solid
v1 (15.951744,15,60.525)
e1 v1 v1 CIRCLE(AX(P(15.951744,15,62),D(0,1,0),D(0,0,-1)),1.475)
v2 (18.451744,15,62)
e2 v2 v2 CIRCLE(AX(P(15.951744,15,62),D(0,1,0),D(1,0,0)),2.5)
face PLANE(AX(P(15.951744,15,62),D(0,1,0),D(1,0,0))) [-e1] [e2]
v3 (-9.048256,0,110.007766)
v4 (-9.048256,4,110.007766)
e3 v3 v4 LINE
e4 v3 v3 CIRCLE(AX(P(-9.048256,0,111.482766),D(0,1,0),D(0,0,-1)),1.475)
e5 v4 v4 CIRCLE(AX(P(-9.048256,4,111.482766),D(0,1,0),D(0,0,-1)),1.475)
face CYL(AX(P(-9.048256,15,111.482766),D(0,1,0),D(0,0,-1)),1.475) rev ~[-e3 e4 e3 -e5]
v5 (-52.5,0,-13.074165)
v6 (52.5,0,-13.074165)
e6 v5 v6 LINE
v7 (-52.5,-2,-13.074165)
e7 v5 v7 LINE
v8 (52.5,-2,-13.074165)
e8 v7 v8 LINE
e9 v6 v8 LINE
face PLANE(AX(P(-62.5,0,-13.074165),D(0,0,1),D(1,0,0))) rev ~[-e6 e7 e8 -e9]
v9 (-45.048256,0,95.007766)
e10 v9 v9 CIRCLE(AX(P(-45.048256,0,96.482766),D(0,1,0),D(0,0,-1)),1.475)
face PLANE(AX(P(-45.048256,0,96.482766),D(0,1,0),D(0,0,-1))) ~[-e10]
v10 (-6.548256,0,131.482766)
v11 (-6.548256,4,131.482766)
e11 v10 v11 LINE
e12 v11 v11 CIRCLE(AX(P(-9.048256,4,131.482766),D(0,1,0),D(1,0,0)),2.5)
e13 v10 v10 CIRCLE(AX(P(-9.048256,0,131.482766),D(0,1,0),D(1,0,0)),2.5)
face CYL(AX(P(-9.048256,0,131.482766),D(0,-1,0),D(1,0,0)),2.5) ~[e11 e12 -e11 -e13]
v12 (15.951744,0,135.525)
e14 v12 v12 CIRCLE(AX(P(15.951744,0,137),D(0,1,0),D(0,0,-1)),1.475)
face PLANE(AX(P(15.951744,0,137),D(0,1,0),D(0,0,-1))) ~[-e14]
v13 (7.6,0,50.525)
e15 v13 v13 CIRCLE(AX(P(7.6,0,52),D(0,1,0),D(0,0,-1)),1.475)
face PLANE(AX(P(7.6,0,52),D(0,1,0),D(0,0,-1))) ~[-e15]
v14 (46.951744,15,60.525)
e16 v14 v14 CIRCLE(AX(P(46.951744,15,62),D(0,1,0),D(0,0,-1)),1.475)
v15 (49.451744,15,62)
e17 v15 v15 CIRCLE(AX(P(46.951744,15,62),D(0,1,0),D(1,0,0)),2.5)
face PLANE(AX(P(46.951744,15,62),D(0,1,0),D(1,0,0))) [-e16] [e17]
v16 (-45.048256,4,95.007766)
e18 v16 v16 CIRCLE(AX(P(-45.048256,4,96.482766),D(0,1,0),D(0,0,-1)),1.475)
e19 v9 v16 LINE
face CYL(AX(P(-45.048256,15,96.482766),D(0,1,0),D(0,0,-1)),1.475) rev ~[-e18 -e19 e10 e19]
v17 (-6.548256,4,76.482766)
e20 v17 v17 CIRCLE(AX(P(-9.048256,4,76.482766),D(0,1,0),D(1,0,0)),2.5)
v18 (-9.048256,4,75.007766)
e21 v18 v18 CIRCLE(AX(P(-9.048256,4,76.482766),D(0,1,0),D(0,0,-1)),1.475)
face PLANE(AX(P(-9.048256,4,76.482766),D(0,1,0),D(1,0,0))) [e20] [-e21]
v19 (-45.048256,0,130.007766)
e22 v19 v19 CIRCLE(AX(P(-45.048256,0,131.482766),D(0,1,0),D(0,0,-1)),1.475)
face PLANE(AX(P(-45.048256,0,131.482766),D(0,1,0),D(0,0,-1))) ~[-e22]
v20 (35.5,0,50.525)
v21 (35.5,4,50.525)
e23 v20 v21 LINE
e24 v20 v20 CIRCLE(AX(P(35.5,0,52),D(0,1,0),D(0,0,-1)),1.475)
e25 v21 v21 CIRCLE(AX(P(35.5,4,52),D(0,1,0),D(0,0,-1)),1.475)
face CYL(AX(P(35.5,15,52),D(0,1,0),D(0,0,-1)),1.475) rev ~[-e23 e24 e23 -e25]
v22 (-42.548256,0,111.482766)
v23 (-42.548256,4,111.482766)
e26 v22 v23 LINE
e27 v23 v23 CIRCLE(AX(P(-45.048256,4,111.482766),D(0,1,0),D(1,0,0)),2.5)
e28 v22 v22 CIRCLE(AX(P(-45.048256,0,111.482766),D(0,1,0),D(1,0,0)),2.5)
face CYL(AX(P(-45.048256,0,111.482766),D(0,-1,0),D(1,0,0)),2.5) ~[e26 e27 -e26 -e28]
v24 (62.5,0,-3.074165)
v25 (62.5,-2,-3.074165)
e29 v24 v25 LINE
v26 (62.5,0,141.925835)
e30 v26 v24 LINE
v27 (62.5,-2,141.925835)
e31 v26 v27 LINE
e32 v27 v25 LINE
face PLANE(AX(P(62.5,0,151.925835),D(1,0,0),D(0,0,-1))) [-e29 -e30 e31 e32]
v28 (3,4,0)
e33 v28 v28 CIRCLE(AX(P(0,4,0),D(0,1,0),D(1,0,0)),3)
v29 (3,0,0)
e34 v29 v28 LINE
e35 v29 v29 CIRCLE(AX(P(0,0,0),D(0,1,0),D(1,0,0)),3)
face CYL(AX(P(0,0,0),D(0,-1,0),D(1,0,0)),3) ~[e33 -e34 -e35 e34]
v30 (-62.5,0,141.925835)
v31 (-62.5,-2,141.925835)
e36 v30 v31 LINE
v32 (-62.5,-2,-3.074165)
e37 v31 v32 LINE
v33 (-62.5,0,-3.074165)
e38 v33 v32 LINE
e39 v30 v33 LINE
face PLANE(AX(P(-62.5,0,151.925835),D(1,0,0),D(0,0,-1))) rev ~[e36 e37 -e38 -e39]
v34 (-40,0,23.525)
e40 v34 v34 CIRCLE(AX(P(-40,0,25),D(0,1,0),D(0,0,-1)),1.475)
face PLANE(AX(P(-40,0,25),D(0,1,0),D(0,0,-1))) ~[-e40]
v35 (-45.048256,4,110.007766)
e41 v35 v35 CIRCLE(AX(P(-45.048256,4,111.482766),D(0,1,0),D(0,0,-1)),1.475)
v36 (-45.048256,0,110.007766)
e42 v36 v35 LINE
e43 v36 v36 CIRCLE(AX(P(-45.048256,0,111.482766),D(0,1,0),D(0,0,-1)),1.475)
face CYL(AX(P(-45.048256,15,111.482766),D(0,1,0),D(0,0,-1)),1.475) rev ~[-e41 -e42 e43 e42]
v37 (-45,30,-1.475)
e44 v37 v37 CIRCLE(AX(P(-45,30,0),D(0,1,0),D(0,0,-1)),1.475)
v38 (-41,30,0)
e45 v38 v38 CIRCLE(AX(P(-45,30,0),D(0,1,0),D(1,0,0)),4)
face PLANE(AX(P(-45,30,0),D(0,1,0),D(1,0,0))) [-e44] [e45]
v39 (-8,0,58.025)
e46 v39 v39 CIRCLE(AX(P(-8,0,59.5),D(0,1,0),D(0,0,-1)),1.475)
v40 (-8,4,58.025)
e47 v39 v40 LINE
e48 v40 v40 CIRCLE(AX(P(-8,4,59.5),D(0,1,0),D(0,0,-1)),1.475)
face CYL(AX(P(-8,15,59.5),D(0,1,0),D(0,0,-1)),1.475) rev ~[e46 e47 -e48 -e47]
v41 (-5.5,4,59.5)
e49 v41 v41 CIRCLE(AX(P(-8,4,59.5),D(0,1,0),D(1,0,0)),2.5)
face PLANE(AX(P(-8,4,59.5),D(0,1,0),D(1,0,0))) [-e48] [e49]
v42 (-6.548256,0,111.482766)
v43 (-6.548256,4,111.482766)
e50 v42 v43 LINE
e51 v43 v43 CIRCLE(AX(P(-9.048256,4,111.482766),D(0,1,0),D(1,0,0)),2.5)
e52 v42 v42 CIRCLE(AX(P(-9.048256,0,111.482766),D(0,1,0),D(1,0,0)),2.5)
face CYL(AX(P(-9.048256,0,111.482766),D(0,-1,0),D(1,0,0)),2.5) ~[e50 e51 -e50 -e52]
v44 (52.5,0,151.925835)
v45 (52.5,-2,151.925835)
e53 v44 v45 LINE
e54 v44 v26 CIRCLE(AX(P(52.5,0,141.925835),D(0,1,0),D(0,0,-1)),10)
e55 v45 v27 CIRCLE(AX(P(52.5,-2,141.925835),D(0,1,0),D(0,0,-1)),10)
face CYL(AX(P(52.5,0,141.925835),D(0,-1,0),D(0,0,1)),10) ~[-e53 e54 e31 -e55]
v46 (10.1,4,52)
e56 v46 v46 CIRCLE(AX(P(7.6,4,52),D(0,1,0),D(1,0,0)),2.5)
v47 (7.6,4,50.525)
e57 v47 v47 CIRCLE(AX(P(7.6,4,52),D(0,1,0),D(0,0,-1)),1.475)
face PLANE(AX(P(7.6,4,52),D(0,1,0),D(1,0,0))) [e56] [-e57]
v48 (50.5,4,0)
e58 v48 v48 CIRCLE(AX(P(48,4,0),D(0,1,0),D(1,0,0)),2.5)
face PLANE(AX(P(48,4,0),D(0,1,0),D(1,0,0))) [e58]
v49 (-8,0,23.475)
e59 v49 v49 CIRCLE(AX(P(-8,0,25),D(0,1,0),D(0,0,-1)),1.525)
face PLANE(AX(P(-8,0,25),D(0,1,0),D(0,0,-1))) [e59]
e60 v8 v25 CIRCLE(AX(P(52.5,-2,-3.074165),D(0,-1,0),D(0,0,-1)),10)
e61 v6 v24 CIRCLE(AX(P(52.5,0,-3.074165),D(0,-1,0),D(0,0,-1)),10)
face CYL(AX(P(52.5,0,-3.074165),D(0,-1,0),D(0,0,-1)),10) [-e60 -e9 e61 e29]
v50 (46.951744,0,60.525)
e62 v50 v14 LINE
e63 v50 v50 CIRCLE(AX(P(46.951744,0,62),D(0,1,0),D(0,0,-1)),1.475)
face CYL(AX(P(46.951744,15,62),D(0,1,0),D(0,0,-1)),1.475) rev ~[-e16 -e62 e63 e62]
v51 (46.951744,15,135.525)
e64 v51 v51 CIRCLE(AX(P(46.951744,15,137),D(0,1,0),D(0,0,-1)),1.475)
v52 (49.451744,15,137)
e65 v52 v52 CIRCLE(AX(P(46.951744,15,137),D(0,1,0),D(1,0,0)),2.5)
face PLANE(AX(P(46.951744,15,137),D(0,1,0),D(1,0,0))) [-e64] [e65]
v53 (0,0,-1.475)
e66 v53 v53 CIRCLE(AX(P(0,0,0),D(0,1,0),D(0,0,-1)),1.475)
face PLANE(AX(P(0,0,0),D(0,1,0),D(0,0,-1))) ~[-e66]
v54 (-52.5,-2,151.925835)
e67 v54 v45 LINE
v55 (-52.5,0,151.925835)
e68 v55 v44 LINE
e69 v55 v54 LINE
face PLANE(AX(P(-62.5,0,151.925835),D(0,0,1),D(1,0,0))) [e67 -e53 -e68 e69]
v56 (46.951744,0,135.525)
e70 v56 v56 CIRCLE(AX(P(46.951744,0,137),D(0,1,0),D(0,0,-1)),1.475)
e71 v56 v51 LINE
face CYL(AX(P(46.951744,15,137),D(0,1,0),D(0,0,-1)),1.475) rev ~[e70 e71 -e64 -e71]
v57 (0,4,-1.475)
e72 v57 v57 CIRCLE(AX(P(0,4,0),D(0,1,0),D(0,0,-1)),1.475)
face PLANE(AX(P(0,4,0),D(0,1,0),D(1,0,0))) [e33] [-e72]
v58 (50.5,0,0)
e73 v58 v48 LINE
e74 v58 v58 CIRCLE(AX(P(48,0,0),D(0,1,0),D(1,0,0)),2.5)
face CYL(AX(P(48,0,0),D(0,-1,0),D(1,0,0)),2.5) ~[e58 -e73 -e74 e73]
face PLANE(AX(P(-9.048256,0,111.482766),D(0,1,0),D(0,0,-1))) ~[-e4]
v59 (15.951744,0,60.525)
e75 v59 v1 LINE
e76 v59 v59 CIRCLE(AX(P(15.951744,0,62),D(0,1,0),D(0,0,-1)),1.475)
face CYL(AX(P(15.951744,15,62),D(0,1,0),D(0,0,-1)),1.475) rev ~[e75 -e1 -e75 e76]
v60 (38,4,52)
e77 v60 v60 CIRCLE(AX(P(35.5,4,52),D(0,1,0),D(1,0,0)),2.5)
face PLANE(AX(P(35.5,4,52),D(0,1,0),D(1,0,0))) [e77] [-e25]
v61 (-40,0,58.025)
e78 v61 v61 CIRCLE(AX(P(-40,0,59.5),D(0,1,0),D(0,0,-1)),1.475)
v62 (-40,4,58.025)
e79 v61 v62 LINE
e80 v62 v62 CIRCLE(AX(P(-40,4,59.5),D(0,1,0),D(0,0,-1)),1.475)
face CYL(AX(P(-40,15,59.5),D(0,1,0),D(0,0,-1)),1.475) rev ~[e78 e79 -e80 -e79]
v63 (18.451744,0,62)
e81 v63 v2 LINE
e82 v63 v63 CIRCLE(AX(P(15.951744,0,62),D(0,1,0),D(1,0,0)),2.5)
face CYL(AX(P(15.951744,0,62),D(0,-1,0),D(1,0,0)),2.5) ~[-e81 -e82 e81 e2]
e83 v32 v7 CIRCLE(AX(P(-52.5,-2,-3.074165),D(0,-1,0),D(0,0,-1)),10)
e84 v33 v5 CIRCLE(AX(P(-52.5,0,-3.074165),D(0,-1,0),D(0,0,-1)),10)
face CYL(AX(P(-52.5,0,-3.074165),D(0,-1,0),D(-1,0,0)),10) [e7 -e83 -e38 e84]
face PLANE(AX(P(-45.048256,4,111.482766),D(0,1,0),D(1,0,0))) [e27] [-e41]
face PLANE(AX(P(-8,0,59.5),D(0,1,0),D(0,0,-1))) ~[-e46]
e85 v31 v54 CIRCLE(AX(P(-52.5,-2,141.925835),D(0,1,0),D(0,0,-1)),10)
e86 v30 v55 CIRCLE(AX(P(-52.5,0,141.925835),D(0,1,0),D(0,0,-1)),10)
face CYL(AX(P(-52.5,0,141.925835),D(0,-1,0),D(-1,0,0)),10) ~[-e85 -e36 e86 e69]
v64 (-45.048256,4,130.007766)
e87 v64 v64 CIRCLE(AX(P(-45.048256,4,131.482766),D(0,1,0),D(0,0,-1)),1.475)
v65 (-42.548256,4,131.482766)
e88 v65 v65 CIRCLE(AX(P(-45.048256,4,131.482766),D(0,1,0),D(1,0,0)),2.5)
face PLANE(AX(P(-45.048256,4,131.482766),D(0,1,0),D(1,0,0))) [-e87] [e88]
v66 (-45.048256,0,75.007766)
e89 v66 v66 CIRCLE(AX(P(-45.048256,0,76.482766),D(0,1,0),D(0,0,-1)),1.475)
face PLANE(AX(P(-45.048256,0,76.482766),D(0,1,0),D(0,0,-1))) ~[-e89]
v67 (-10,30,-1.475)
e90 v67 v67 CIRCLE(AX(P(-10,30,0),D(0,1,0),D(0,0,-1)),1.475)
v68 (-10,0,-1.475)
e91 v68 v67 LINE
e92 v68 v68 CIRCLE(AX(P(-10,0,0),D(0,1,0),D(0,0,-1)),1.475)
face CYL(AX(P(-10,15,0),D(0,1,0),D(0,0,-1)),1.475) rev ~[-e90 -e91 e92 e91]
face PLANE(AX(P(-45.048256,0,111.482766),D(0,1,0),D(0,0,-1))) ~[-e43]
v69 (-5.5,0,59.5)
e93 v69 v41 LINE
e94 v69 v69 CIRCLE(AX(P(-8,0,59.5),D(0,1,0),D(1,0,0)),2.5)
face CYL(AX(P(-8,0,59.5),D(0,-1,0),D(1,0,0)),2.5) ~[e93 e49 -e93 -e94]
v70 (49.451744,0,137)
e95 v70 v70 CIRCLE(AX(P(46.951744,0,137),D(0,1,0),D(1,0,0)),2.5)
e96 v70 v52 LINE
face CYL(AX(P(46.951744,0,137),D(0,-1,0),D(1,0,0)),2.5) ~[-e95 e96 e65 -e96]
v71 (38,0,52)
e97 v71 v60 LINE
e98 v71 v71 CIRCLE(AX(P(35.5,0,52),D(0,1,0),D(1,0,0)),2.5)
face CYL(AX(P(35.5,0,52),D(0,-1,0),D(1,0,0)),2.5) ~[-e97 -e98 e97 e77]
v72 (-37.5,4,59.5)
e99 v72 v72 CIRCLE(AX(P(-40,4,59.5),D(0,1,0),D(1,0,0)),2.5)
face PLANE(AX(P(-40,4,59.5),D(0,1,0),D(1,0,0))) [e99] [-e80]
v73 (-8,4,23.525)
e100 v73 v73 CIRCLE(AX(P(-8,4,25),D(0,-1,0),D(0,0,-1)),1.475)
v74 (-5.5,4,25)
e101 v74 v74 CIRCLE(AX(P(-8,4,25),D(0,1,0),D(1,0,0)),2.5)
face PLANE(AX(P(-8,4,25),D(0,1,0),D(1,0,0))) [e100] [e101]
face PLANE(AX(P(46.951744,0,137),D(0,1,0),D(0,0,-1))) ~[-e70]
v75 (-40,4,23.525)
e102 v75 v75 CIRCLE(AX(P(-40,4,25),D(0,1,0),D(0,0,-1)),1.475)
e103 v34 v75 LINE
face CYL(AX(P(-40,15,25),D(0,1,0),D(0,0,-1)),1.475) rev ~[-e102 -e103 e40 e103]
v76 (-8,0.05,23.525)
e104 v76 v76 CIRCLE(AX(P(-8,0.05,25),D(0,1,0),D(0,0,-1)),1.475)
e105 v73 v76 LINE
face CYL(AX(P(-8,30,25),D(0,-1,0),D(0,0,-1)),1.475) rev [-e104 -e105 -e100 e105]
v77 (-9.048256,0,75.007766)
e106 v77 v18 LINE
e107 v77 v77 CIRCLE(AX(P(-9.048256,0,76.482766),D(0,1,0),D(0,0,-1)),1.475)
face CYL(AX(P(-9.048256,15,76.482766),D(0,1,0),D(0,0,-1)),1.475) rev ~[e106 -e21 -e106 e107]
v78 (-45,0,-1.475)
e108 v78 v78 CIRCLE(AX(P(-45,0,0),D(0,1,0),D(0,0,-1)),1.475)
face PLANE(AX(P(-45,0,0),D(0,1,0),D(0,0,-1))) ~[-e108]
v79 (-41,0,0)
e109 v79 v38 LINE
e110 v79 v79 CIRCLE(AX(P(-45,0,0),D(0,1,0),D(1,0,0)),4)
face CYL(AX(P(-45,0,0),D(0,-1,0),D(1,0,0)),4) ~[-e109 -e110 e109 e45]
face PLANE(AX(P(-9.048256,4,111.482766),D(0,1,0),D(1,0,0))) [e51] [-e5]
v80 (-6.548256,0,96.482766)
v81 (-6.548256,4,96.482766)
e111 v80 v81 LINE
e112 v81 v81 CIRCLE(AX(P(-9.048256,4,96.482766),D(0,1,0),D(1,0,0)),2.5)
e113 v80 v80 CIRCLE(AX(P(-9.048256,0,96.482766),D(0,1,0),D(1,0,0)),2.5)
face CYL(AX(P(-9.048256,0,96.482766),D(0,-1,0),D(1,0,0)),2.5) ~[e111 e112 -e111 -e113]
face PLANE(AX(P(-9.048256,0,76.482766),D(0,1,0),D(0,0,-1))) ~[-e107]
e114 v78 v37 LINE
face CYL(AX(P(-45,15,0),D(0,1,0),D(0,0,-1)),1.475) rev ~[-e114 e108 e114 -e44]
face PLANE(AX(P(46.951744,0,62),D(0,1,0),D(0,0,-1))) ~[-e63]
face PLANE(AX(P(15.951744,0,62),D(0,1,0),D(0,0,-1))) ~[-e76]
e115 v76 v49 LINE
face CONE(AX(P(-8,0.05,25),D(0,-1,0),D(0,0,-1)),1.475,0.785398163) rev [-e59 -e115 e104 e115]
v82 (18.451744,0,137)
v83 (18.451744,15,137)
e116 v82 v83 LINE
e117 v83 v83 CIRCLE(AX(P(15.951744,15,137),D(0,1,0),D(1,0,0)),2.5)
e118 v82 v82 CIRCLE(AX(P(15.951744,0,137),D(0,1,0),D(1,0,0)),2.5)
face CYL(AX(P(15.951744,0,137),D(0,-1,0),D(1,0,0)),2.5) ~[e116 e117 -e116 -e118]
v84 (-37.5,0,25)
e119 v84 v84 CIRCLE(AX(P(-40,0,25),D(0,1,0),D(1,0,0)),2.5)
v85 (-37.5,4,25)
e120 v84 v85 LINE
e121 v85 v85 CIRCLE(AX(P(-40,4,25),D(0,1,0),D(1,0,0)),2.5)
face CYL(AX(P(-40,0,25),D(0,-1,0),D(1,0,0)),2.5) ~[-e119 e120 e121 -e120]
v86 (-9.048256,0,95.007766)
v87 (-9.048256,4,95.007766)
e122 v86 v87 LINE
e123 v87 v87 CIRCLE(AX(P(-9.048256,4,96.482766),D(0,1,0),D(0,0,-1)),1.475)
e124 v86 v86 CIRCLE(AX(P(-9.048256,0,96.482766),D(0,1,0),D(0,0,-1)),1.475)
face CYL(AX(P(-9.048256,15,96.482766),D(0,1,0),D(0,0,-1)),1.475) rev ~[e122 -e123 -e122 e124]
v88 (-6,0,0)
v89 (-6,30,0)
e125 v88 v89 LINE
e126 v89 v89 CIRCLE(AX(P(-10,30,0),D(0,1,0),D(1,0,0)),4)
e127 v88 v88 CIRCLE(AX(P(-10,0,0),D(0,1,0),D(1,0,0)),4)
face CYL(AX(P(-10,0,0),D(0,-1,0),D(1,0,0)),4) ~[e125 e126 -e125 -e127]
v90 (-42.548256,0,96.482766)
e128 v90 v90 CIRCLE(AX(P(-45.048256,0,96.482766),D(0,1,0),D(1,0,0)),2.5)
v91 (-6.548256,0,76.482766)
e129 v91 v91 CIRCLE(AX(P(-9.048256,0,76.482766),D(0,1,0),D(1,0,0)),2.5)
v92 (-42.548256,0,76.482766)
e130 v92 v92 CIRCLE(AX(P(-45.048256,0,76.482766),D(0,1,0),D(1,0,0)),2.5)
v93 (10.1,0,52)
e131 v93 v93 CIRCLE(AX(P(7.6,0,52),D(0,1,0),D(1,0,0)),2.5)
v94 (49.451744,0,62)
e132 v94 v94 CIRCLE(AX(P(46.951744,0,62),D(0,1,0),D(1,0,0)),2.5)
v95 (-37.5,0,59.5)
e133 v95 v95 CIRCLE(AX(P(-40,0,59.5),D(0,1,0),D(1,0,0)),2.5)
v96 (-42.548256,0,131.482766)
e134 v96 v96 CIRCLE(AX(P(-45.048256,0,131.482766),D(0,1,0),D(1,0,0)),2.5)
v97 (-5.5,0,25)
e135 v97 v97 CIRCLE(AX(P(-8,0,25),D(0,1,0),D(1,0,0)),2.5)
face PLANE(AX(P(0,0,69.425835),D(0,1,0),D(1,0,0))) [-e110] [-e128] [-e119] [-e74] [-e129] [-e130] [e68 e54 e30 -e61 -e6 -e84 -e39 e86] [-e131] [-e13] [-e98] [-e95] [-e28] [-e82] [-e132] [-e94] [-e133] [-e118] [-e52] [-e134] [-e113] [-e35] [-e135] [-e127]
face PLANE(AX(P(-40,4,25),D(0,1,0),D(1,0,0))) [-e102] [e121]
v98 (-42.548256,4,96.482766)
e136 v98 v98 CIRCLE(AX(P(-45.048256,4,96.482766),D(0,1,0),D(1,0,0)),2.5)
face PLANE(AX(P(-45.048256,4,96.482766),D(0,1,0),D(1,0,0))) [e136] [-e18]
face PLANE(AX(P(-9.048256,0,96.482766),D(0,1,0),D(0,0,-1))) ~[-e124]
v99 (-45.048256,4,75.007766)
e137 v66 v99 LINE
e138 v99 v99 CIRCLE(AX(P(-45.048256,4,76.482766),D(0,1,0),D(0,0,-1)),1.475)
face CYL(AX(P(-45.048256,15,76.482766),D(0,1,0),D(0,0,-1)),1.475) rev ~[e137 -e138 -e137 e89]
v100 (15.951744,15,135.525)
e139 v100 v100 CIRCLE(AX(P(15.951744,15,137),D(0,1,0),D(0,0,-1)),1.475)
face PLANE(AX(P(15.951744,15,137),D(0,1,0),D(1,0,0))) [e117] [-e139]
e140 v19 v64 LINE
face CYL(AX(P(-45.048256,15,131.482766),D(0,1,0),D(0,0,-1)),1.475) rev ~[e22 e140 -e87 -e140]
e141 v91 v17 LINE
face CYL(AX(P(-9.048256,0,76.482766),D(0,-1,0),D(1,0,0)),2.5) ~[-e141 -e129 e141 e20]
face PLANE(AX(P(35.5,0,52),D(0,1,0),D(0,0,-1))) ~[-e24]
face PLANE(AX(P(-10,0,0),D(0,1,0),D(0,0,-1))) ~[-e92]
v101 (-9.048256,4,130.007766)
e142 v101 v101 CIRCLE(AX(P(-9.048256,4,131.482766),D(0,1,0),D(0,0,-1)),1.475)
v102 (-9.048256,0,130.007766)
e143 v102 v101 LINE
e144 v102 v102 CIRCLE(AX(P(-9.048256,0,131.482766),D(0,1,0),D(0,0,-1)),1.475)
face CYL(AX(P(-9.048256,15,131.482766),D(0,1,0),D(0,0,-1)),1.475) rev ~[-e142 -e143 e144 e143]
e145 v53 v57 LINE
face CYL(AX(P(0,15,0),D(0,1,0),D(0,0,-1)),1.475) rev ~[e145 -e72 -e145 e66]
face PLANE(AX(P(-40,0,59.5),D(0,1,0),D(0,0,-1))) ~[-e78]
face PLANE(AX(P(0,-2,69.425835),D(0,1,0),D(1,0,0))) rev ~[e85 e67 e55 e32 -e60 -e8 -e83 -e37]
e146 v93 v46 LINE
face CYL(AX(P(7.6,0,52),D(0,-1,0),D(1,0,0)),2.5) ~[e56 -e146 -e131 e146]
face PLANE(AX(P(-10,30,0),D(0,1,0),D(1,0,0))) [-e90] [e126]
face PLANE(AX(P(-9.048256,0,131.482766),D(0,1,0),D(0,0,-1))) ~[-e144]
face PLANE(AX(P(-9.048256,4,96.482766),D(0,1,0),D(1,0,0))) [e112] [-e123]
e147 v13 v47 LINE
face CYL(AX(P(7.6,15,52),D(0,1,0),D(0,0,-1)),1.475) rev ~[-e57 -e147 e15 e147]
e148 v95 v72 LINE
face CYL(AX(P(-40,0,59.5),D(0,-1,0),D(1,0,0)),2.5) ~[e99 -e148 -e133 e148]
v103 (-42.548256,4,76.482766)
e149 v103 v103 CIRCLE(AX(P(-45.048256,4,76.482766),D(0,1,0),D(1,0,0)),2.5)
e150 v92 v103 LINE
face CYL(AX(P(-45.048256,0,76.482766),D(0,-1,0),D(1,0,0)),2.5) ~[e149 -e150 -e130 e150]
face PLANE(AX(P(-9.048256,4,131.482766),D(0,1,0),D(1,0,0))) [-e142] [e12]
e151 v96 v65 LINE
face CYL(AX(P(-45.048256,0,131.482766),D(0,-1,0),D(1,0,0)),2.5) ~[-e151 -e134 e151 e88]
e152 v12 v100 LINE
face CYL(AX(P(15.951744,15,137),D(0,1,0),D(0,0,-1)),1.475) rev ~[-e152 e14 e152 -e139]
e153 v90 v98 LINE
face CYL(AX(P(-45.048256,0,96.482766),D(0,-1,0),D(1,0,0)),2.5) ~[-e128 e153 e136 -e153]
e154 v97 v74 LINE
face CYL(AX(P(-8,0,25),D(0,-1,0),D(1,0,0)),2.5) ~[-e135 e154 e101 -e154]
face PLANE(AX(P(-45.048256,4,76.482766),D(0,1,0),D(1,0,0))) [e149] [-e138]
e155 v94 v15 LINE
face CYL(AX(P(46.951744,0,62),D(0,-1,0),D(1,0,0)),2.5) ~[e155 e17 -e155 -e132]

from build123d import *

# Parameters (mm, degrees)
SKETCH_1_R         = 2.5
EXTRUDE_1_DEPTH    = 4
SKETCH_1_R_2       = 3
EXTRUDE_1_2_DEPTH  = 4
EXTRUDE_1_3_DEPTH  = 4
EXTRUDE_1_4_DEPTH  = 4
EXTRUDE_1_5_DEPTH  = 4
EXTRUDE_1_6_DEPTH  = 4
EXTRUDE_1_7_DEPTH  = 4
EXTRUDE_1_8_DEPTH  = 4
EXTRUDE_1_9_DEPTH  = 4
EXTRUDE_1_10_DEPTH = 4
EXTRUDE_1_11_DEPTH = 4
EXTRUDE_1_12_DEPTH = 4
EXTRUDE_1_13_DEPTH = 4
EXTRUDE_1_14_DEPTH = 4
EXTRUDE_1_15_DEPTH = 4
EXTRUDE_1_16_DEPTH = 4
SKETCH_1_3_R       = 2.5
EXTRUDE_2_DEPTH    = 15
EXTRUDE_2_2_DEPTH  = 15
EXTRUDE_2_3_DEPTH  = 15
EXTRUDE_2_4_DEPTH  = 15
SKETCH_1_4_R       = 4
EXTRUDE_3_DEPTH    = 30
EXTRUDE_3_2_DEPTH  = 30
SKETCH_2_W         = 125
SKETCH_2_H         = 165
EXTRUDE_4_DEPTH    = 2
FILLET_1_R         = 10
SKETCH_9_W         = 1.475
SKETCH_9_H         = 30
MM_3_AT_2_COUNT    = 2
MM_3_AT_2_PITCH    = 56.007567425
MM_3_AT_3_COUNT    = 2
MM_3_AT_3_PITCH    = 72.159569674
MM_3_AT_4_COUNT    = 2
MM_3_AT_4_PITCH    = 52.22731905
MM_3_AT_5_COUNT    = 2
MM_3_AT_5_PITCH    = 37.325726715
MM_3_AT_6_COUNT    = 2
MM_3_AT_6_PITCH    = 17.717201651
MM_3_AT_7_COUNT    = 2
MM_3_AT_7_PITCH    = 34.5
MM_3_AT_8_COUNT    = 2
MM_3_AT_8_PITCH    = 59.709714453
MM_3_AT_9_COUNT    = 2
MM_3_AT_9_PITCH    = 66.635200908
MM_3_AT_10_COUNT   = 2
MM_3_AT_10_PITCH   = 71.695536821
MM_3_AT_11_COUNT   = 2
MM_3_AT_11_PITCH   = 75.871602066
MM_3_AT_12_COUNT   = 2
MM_3_AT_12_PITCH   = 86.987675624
MM_3_AT_13_COUNT   = 2
MM_3_AT_13_PITCH   = 116.476846242
MM_3_AT_14_COUNT   = 2
MM_3_AT_14_PITCH   = 95.586858976
MM_3_AT_15_COUNT   = 2
MM_3_AT_15_PITCH   = 78.355146818
MM_3_AT_16_COUNT   = 2
MM_3_AT_16_PITCH   = 60.49973878
MM_3_AT_17_COUNT   = 2
MM_3_AT_17_PITCH   = 48.22587907
MM_3_AT_18_COUNT   = 2
MM_3_AT_18_PITCH   = 35.304741489
MM_3_AT_19_COUNT   = 2
MM_3_AT_19_PITCH   = 32
MM_3_AT_20_COUNT   = 2
MM_3_AT_20_PITCH   = 48.187238975


with BuildPart() as part:
    # 草图1 → 凸台-拉伸1 (new body)
    with BuildSketch(Plane(origin=(0, 0, 0), x_dir=(1, 0, 0), z_dir=(0, 1, 0))):
        with Locations((-8, -25)):
            Circle(SKETCH_1_R)
    extrude(amount=EXTRUDE_1_DEPTH)



with BuildPart() as body_2:
    # 草图1 → Extrude 1 2 (new body)
    with BuildSketch(Plane(origin=(0, 0, 0), x_dir=(1, 0, 0), z_dir=(0, 1, 0))):
        Circle(SKETCH_1_R_2)
    extrude(amount=EXTRUDE_1_2_DEPTH)


with BuildPart() as body_3:
    # 草图1 → Extrude 1 3 (new body)
    with BuildSketch(Plane(origin=(0, 0, 0), x_dir=(1, 0, 0), z_dir=(0, 1, 0))):
        with Locations((-9.048256427, -96.482766011)):
            Circle(SKETCH_1_R)
    extrude(amount=EXTRUDE_1_3_DEPTH)


with BuildPart() as body_4:
    # 草图1 → Extrude 1 4 (new body)
    with BuildSketch(Plane(origin=(0, 0, 0), x_dir=(1, 0, 0), z_dir=(0, 1, 0))):
        with Locations((-45.048256427, -96.482766011)):
            Circle(SKETCH_1_R)
    extrude(amount=EXTRUDE_1_4_DEPTH)


with BuildPart() as body_5:
    # 草图1 → Extrude 1 5 (new body)
    with BuildSketch(Plane(origin=(0, 0, 0), x_dir=(1, 0, 0), z_dir=(0, 1, 0))):
        with Locations((-45.048256427, -76.482766011)):
            Circle(SKETCH_1_R)
    extrude(amount=EXTRUDE_1_5_DEPTH)


with BuildPart() as body_6:
    # 草图1 → Extrude 1 6 (new body)
    with BuildSketch(Plane(origin=(0, 0, 0), x_dir=(1, 0, 0), z_dir=(0, 1, 0))):
        with Locations((-9.048256427, -76.482766011)):
            Circle(SKETCH_1_R)
    extrude(amount=EXTRUDE_1_6_DEPTH)


with BuildPart() as body_7:
    # 草图1 → Extrude 1 7 (new body)
    with BuildSketch(Plane(origin=(0, 0, 0), x_dir=(1, 0, 0), z_dir=(0, 1, 0))):
        with Locations((-45.048256427, -131.482766011)):
            Circle(SKETCH_1_R)
    extrude(amount=EXTRUDE_1_7_DEPTH)


with BuildPart() as body_8:
    # 草图1 → Extrude 1 8 (new body)
    with BuildSketch(Plane(origin=(0, 0, 0), x_dir=(1, 0, 0), z_dir=(0, 1, 0))):
        with Locations((-45.048256427, -111.482766011)):
            Circle(SKETCH_1_R)
    extrude(amount=EXTRUDE_1_8_DEPTH)


with BuildPart() as body_9:
    # 草图1 → Extrude 1 9 (new body)
    with BuildSketch(Plane(origin=(0, 0, 0), x_dir=(1, 0, 0), z_dir=(0, 1, 0))):
        with Locations((-9.048256427, -111.482766011)):
            Circle(SKETCH_1_R)
    extrude(amount=EXTRUDE_1_9_DEPTH)


with BuildPart() as body_10:
    # 草图1 → Extrude 1 10 (new body)
    with BuildSketch(Plane(origin=(0, 0, 0), x_dir=(1, 0, 0), z_dir=(0, 1, 0))):
        with Locations((-40, -59.5)):
            Circle(SKETCH_1_R)
    extrude(amount=EXTRUDE_1_10_DEPTH)


with BuildPart() as body_11:
    # 草图1 → Extrude 1 11 (new body)
    with BuildSketch(Plane(origin=(0, 0, 0), x_dir=(1, 0, 0), z_dir=(0, 1, 0))):
        with Locations((-8, -59.5)):
            Circle(SKETCH_1_R)
    extrude(amount=EXTRUDE_1_11_DEPTH)


with BuildPart() as body_12:
    # 草图1 → Extrude 1 12 (new body)
    with BuildSketch(Plane(origin=(0, 0, 0), x_dir=(1, 0, 0), z_dir=(0, 1, 0))):
        with Locations((48, 0)):
            Circle(SKETCH_1_R)
    extrude(amount=EXTRUDE_1_12_DEPTH)


with BuildPart() as body_13:
    # 草图1 → Extrude 1 13 (new body)
    with BuildSketch(Plane(origin=(0, 0, 0), x_dir=(1, 0, 0), z_dir=(0, 1, 0))):
        with Locations((-9.048256427, -131.482766011)):
            Circle(SKETCH_1_R)
    extrude(amount=EXTRUDE_1_13_DEPTH)


with BuildPart() as body_14:
    # 草图1 → Extrude 1 14 (new body)
    with BuildSketch(Plane(origin=(0, 0, 0), x_dir=(1, 0, 0), z_dir=(0, 1, 0))):
        with Locations((7.6, -52)):
            Circle(SKETCH_1_R)
    extrude(amount=EXTRUDE_1_14_DEPTH)


with BuildPart() as body_15:
    # 草图1 → Extrude 1 15 (new body)
    with BuildSketch(Plane(origin=(0, 0, 0), x_dir=(1, 0, 0), z_dir=(0, 1, 0))):
        with Locations((35.5, -52)):
            Circle(SKETCH_1_R)
    extrude(amount=EXTRUDE_1_15_DEPTH)


with BuildPart() as body_16:
    # 草图1 → Extrude 1 16 (new body)
    with BuildSketch(Plane(origin=(0, 0, 0), x_dir=(1, 0, 0), z_dir=(0, 1, 0))):
        with Locations((-40, -25)):
            Circle(SKETCH_1_R)
    extrude(amount=EXTRUDE_1_16_DEPTH)


with BuildPart() as body_17:
    # 草图1<3> → 凸台-拉伸2 (new body)
    with BuildSketch(Plane(origin=(0, 0, 0), x_dir=(1, 0, 0), z_dir=(0, 1, 0))):
        with Locations((15.951743573, -137)):
            Circle(SKETCH_1_3_R)
    extrude(amount=EXTRUDE_2_DEPTH)


with BuildPart() as body_18:
    # 草图1<3> → Extrude 2 2 (new body)
    with BuildSketch(Plane(origin=(0, 0, 0), x_dir=(1, 0, 0), z_dir=(0, 1, 0))):
        with Locations((46.951743573, -137)):
            Circle(SKETCH_1_3_R)
    extrude(amount=EXTRUDE_2_2_DEPTH)


with BuildPart() as body_19:
    # 草图1<3> → Extrude 2 3 (new body)
    with BuildSketch(Plane(origin=(0, 0, 0), x_dir=(1, 0, 0), z_dir=(0, 1, 0))):
        with Locations((46.951743573, -62)):
            Circle(SKETCH_1_3_R)
    extrude(amount=EXTRUDE_2_3_DEPTH)


with BuildPart() as body_20:
    # 草图1<3> → Extrude 2 4 (new body)
    with BuildSketch(Plane(origin=(0, 0, 0), x_dir=(1, 0, 0), z_dir=(0, 1, 0))):
        with Locations((15.951743573, -62)):
            Circle(SKETCH_1_3_R)
    extrude(amount=EXTRUDE_2_4_DEPTH)


with BuildPart() as body_21:
    # 草图1<4> → 凸台-拉伸3 (new body)
    with BuildSketch(Plane(origin=(0, 0, 0), x_dir=(1, 0, 0), z_dir=(0, 1, 0))):
        with Locations((-45, 0)):
            Circle(SKETCH_1_4_R)
    extrude(amount=EXTRUDE_3_DEPTH)


with BuildPart() as body_22:
    # 草图1<4> → Extrude 3 2 (new body)
    with BuildSketch(Plane(origin=(0, 0, 0), x_dir=(1, 0, 0), z_dir=(0, 1, 0))):
        with Locations((-10, 0)):
            Circle(SKETCH_1_4_R)
    extrude(amount=EXTRUDE_3_2_DEPTH)


with BuildPart() as part_1:
    add(part.part)

    add(body_2.part)  # 凸台-拉伸4 merges body 2

    add(body_3.part)  # 凸台-拉伸4 merges body 3

    add(body_4.part)  # 凸台-拉伸4 merges body 4

    add(body_5.part)  # 凸台-拉伸4 merges body 5

    add(body_6.part)  # 凸台-拉伸4 merges body 6

    add(body_7.part)  # 凸台-拉伸4 merges body 7

    add(body_8.part)  # 凸台-拉伸4 merges body 8

    add(body_9.part)  # 凸台-拉伸4 merges body 9

    add(body_10.part)  # 凸台-拉伸4 merges body 10

    add(body_11.part)  # 凸台-拉伸4 merges body 11

    add(body_12.part)  # 凸台-拉伸4 merges body 12

    add(body_13.part)  # 凸台-拉伸4 merges body 13

    add(body_14.part)  # 凸台-拉伸4 merges body 14

    add(body_15.part)  # 凸台-拉伸4 merges body 15

    add(body_16.part)  # 凸台-拉伸4 merges body 16

    add(body_17.part)  # 凸台-拉伸4 merges body 17

    add(body_18.part)  # 凸台-拉伸4 merges body 18

    add(body_19.part)  # 凸台-拉伸4 merges body 19

    add(body_20.part)  # 凸台-拉伸4 merges body 20

    add(body_21.part)  # 凸台-拉伸4 merges body 21

    add(body_22.part)  # 凸台-拉伸4 merges body 22
    # 草图2 → 凸台-拉伸4 (add)
    with BuildSketch(Plane(origin=(0, 0, 0), x_dir=(1, 0, 0), z_dir=(0, 1, 0))):
        with Locations((0, -69.425835086)):
            Rectangle(SKETCH_2_W, SKETCH_2_H)
    extrude(amount=-EXTRUDE_4_DEPTH)

    # 圆角1
    fillet_1_edges = [part_1.edges().sort_by_distance(p)[0] for p in [
        (62.5, -1, -13.074164914),
        (62.5, -1, 151.925835086),
        (-62.5, -1, 151.925835086),
        (-62.5, -1, -13.074164914),
    ]]
    fillet(fillet_1_edges, radius=FILLET_1_R)

    # 草图9 → mm _3 (revolve, cut)
    with BuildSketch(Plane(origin=(-40, 0, 59.5), x_dir=(0, 0, -1), z_dir=(1, 0, 0))):
        with Locations((0.7375, 15)):
            Rectangle(SKETCH_9_W, SKETCH_9_H)
    mm_3 = revolve(axis=Axis((-40, -6.35, 59.5), (0, 1, 0)), mode=Mode.SUBTRACT)

    # mm _3 at 2: mm _3 ×2
    with Locations(*[Vector(0.99900328, 0, 0.044636825) * (i * MM_3_AT_2_PITCH) for i in range(1, MM_3_AT_2_COUNT)]):
        add(mm_3, mode=Mode.SUBTRACT)

    # mm _3 at 3: mm _3 ×2
    with Locations(*[Vector(-0.069959625, 0, 0.997549824) * (i * MM_3_AT_3_PITCH) for i in range(1, MM_3_AT_3_COUNT)]):
        add(mm_3, mode=Mode.SUBTRACT)

    # mm _3 at 4: mm _3 ×2
    with Locations(*[Vector(-0.096659306, 0, 0.995317526) * (i * MM_3_AT_4_PITCH) for i in range(1, MM_3_AT_4_COUNT)]):
        add(mm_3, mode=Mode.SUBTRACT)

    # mm _3 at 5: mm _3 ×2
    with Locations(*[Vector(-0.135248711, 0, 0.99081168) * (i * MM_3_AT_5_PITCH) for i in range(1, MM_3_AT_5_COUNT)]):
        add(mm_3, mode=Mode.SUBTRACT)

    # mm _3 at 6: mm _3 ×2
    with Locations(*[Vector(-0.284935315, 0, 0.958546747) * (i * MM_3_AT_6_PITCH) for i in range(1, MM_3_AT_6_COUNT)]):
        add(mm_3, mode=Mode.SUBTRACT)

    # mm _3 at 7: mm _3 ×2
    with Locations(*[(0, 0, -i * MM_3_AT_7_PITCH) for i in range(1, MM_3_AT_7_COUNT)]):
        add(mm_3, mode=Mode.SUBTRACT)

    # mm _3 at 8: mm _3 ×2
    with Locations(*[Vector(-0.083738468, 0, -0.996487767) * (i * MM_3_AT_8_PITCH) for i in range(1, MM_3_AT_8_COUNT)]):
        add(mm_3, mode=Mode.SUBTRACT)

    # mm _3 at 9: mm _3 ×2
    with Locations(*[Vector(0.450212494, 0, -0.892921447) * (i * MM_3_AT_9_PITCH) for i in range(1, MM_3_AT_9_COUNT)]):
        add(mm_3, mode=Mode.SUBTRACT)

    # mm _3 at 10: mm _3 ×2
    with Locations(*[Vector(0.557914785, 0, -0.829898242) * (i * MM_3_AT_10_PITCH) for i in range(1, MM_3_AT_10_COUNT)]):
        add(mm_3, mode=Mode.SUBTRACT)

    # mm _3 at 11: mm _3 ×2
    with Locations(*[Vector(0.995102225, 0, -0.098851214) * (i * MM_3_AT_11_PITCH) for i in range(1, MM_3_AT_11_COUNT)]):
        add(mm_3, mode=Mode.SUBTRACT)

    # mm _3 at 12: mm _3 ×2
    with Locations(*[Vector(0.999586929, 0, 0.028739703) * (i * MM_3_AT_12_PITCH) for i in range(1, MM_3_AT_12_COUNT)]):
        add(mm_3, mode=Mode.SUBTRACT)

    # mm _3 at 13: mm _3 ×2
    with Locations(*[Vector(0.746515264, 0, 0.66536829) * (i * MM_3_AT_13_PITCH) for i in range(1, MM_3_AT_13_COUNT)]):
        add(mm_3, mode=Mode.SUBTRACT)

    # mm _3 at 14: mm _3 ×2
    with Locations(*[Vector(0.585349745, 0, 0.810780905) * (i * MM_3_AT_14_PITCH) for i in range(1, MM_3_AT_14_COUNT)]):
        add(mm_3, mode=Mode.SUBTRACT)

    # mm _3 at 15: mm _3 ×2
    with Locations(*[Vector(0.395018641, 0, 0.918673105) * (i * MM_3_AT_15_PITCH) for i in range(1, MM_3_AT_15_COUNT)]):
        add(mm_3, mode=Mode.SUBTRACT)

    # mm _3 at 16: mm _3 ×2
    with Locations(*[Vector(0.511601276, 0, 0.859222983) * (i * MM_3_AT_16_PITCH) for i in range(1, MM_3_AT_16_COUNT)]):
        add(mm_3, mode=Mode.SUBTRACT)

    # mm _3 at 17: mm _3 ×2
    with Locations(*[Vector(0.641807763, 0, 0.766865565) * (i * MM_3_AT_17_PITCH) for i in range(1, MM_3_AT_17_COUNT)]):
        add(mm_3, mode=Mode.SUBTRACT)

    # mm _3 at 18: mm _3 ×2
    with Locations(*[Vector(0.876702173, 0, 0.481033575) * (i * MM_3_AT_18_PITCH) for i in range(1, MM_3_AT_18_COUNT)]):
        add(mm_3, mode=Mode.SUBTRACT)

    # mm _3 at 19: mm _3 ×2
    with Locations(*[(i * MM_3_AT_19_PITCH, 0, 0) for i in range(1, MM_3_AT_19_COUNT)]):
        add(mm_3, mode=Mode.SUBTRACT)

    # mm _3 at 20: mm _3 ×2
    with Locations(*[Vector(0.987813392, 0, -0.155642866) * (i * MM_3_AT_20_PITCH) for i in range(1, MM_3_AT_20_COUNT)]):
        add(mm_3, mode=Mode.SUBTRACT)

    # 草图10 → mm _3 2 (revolve, cut)
    with BuildSketch(Plane(origin=(-8, 0, 25), x_dir=(0, 0, -1), z_dir=(1, 0, 0))):
        Polygon((0, 0), (0, 30), (1.475, 30), (1.475, 0.05), (1.525, 0), align=None)
    revolve(axis=Axis((-8, -6.35, 25), (0, 1, 0)), mode=Mode.SUBTRACT)


solid = part_1.part
